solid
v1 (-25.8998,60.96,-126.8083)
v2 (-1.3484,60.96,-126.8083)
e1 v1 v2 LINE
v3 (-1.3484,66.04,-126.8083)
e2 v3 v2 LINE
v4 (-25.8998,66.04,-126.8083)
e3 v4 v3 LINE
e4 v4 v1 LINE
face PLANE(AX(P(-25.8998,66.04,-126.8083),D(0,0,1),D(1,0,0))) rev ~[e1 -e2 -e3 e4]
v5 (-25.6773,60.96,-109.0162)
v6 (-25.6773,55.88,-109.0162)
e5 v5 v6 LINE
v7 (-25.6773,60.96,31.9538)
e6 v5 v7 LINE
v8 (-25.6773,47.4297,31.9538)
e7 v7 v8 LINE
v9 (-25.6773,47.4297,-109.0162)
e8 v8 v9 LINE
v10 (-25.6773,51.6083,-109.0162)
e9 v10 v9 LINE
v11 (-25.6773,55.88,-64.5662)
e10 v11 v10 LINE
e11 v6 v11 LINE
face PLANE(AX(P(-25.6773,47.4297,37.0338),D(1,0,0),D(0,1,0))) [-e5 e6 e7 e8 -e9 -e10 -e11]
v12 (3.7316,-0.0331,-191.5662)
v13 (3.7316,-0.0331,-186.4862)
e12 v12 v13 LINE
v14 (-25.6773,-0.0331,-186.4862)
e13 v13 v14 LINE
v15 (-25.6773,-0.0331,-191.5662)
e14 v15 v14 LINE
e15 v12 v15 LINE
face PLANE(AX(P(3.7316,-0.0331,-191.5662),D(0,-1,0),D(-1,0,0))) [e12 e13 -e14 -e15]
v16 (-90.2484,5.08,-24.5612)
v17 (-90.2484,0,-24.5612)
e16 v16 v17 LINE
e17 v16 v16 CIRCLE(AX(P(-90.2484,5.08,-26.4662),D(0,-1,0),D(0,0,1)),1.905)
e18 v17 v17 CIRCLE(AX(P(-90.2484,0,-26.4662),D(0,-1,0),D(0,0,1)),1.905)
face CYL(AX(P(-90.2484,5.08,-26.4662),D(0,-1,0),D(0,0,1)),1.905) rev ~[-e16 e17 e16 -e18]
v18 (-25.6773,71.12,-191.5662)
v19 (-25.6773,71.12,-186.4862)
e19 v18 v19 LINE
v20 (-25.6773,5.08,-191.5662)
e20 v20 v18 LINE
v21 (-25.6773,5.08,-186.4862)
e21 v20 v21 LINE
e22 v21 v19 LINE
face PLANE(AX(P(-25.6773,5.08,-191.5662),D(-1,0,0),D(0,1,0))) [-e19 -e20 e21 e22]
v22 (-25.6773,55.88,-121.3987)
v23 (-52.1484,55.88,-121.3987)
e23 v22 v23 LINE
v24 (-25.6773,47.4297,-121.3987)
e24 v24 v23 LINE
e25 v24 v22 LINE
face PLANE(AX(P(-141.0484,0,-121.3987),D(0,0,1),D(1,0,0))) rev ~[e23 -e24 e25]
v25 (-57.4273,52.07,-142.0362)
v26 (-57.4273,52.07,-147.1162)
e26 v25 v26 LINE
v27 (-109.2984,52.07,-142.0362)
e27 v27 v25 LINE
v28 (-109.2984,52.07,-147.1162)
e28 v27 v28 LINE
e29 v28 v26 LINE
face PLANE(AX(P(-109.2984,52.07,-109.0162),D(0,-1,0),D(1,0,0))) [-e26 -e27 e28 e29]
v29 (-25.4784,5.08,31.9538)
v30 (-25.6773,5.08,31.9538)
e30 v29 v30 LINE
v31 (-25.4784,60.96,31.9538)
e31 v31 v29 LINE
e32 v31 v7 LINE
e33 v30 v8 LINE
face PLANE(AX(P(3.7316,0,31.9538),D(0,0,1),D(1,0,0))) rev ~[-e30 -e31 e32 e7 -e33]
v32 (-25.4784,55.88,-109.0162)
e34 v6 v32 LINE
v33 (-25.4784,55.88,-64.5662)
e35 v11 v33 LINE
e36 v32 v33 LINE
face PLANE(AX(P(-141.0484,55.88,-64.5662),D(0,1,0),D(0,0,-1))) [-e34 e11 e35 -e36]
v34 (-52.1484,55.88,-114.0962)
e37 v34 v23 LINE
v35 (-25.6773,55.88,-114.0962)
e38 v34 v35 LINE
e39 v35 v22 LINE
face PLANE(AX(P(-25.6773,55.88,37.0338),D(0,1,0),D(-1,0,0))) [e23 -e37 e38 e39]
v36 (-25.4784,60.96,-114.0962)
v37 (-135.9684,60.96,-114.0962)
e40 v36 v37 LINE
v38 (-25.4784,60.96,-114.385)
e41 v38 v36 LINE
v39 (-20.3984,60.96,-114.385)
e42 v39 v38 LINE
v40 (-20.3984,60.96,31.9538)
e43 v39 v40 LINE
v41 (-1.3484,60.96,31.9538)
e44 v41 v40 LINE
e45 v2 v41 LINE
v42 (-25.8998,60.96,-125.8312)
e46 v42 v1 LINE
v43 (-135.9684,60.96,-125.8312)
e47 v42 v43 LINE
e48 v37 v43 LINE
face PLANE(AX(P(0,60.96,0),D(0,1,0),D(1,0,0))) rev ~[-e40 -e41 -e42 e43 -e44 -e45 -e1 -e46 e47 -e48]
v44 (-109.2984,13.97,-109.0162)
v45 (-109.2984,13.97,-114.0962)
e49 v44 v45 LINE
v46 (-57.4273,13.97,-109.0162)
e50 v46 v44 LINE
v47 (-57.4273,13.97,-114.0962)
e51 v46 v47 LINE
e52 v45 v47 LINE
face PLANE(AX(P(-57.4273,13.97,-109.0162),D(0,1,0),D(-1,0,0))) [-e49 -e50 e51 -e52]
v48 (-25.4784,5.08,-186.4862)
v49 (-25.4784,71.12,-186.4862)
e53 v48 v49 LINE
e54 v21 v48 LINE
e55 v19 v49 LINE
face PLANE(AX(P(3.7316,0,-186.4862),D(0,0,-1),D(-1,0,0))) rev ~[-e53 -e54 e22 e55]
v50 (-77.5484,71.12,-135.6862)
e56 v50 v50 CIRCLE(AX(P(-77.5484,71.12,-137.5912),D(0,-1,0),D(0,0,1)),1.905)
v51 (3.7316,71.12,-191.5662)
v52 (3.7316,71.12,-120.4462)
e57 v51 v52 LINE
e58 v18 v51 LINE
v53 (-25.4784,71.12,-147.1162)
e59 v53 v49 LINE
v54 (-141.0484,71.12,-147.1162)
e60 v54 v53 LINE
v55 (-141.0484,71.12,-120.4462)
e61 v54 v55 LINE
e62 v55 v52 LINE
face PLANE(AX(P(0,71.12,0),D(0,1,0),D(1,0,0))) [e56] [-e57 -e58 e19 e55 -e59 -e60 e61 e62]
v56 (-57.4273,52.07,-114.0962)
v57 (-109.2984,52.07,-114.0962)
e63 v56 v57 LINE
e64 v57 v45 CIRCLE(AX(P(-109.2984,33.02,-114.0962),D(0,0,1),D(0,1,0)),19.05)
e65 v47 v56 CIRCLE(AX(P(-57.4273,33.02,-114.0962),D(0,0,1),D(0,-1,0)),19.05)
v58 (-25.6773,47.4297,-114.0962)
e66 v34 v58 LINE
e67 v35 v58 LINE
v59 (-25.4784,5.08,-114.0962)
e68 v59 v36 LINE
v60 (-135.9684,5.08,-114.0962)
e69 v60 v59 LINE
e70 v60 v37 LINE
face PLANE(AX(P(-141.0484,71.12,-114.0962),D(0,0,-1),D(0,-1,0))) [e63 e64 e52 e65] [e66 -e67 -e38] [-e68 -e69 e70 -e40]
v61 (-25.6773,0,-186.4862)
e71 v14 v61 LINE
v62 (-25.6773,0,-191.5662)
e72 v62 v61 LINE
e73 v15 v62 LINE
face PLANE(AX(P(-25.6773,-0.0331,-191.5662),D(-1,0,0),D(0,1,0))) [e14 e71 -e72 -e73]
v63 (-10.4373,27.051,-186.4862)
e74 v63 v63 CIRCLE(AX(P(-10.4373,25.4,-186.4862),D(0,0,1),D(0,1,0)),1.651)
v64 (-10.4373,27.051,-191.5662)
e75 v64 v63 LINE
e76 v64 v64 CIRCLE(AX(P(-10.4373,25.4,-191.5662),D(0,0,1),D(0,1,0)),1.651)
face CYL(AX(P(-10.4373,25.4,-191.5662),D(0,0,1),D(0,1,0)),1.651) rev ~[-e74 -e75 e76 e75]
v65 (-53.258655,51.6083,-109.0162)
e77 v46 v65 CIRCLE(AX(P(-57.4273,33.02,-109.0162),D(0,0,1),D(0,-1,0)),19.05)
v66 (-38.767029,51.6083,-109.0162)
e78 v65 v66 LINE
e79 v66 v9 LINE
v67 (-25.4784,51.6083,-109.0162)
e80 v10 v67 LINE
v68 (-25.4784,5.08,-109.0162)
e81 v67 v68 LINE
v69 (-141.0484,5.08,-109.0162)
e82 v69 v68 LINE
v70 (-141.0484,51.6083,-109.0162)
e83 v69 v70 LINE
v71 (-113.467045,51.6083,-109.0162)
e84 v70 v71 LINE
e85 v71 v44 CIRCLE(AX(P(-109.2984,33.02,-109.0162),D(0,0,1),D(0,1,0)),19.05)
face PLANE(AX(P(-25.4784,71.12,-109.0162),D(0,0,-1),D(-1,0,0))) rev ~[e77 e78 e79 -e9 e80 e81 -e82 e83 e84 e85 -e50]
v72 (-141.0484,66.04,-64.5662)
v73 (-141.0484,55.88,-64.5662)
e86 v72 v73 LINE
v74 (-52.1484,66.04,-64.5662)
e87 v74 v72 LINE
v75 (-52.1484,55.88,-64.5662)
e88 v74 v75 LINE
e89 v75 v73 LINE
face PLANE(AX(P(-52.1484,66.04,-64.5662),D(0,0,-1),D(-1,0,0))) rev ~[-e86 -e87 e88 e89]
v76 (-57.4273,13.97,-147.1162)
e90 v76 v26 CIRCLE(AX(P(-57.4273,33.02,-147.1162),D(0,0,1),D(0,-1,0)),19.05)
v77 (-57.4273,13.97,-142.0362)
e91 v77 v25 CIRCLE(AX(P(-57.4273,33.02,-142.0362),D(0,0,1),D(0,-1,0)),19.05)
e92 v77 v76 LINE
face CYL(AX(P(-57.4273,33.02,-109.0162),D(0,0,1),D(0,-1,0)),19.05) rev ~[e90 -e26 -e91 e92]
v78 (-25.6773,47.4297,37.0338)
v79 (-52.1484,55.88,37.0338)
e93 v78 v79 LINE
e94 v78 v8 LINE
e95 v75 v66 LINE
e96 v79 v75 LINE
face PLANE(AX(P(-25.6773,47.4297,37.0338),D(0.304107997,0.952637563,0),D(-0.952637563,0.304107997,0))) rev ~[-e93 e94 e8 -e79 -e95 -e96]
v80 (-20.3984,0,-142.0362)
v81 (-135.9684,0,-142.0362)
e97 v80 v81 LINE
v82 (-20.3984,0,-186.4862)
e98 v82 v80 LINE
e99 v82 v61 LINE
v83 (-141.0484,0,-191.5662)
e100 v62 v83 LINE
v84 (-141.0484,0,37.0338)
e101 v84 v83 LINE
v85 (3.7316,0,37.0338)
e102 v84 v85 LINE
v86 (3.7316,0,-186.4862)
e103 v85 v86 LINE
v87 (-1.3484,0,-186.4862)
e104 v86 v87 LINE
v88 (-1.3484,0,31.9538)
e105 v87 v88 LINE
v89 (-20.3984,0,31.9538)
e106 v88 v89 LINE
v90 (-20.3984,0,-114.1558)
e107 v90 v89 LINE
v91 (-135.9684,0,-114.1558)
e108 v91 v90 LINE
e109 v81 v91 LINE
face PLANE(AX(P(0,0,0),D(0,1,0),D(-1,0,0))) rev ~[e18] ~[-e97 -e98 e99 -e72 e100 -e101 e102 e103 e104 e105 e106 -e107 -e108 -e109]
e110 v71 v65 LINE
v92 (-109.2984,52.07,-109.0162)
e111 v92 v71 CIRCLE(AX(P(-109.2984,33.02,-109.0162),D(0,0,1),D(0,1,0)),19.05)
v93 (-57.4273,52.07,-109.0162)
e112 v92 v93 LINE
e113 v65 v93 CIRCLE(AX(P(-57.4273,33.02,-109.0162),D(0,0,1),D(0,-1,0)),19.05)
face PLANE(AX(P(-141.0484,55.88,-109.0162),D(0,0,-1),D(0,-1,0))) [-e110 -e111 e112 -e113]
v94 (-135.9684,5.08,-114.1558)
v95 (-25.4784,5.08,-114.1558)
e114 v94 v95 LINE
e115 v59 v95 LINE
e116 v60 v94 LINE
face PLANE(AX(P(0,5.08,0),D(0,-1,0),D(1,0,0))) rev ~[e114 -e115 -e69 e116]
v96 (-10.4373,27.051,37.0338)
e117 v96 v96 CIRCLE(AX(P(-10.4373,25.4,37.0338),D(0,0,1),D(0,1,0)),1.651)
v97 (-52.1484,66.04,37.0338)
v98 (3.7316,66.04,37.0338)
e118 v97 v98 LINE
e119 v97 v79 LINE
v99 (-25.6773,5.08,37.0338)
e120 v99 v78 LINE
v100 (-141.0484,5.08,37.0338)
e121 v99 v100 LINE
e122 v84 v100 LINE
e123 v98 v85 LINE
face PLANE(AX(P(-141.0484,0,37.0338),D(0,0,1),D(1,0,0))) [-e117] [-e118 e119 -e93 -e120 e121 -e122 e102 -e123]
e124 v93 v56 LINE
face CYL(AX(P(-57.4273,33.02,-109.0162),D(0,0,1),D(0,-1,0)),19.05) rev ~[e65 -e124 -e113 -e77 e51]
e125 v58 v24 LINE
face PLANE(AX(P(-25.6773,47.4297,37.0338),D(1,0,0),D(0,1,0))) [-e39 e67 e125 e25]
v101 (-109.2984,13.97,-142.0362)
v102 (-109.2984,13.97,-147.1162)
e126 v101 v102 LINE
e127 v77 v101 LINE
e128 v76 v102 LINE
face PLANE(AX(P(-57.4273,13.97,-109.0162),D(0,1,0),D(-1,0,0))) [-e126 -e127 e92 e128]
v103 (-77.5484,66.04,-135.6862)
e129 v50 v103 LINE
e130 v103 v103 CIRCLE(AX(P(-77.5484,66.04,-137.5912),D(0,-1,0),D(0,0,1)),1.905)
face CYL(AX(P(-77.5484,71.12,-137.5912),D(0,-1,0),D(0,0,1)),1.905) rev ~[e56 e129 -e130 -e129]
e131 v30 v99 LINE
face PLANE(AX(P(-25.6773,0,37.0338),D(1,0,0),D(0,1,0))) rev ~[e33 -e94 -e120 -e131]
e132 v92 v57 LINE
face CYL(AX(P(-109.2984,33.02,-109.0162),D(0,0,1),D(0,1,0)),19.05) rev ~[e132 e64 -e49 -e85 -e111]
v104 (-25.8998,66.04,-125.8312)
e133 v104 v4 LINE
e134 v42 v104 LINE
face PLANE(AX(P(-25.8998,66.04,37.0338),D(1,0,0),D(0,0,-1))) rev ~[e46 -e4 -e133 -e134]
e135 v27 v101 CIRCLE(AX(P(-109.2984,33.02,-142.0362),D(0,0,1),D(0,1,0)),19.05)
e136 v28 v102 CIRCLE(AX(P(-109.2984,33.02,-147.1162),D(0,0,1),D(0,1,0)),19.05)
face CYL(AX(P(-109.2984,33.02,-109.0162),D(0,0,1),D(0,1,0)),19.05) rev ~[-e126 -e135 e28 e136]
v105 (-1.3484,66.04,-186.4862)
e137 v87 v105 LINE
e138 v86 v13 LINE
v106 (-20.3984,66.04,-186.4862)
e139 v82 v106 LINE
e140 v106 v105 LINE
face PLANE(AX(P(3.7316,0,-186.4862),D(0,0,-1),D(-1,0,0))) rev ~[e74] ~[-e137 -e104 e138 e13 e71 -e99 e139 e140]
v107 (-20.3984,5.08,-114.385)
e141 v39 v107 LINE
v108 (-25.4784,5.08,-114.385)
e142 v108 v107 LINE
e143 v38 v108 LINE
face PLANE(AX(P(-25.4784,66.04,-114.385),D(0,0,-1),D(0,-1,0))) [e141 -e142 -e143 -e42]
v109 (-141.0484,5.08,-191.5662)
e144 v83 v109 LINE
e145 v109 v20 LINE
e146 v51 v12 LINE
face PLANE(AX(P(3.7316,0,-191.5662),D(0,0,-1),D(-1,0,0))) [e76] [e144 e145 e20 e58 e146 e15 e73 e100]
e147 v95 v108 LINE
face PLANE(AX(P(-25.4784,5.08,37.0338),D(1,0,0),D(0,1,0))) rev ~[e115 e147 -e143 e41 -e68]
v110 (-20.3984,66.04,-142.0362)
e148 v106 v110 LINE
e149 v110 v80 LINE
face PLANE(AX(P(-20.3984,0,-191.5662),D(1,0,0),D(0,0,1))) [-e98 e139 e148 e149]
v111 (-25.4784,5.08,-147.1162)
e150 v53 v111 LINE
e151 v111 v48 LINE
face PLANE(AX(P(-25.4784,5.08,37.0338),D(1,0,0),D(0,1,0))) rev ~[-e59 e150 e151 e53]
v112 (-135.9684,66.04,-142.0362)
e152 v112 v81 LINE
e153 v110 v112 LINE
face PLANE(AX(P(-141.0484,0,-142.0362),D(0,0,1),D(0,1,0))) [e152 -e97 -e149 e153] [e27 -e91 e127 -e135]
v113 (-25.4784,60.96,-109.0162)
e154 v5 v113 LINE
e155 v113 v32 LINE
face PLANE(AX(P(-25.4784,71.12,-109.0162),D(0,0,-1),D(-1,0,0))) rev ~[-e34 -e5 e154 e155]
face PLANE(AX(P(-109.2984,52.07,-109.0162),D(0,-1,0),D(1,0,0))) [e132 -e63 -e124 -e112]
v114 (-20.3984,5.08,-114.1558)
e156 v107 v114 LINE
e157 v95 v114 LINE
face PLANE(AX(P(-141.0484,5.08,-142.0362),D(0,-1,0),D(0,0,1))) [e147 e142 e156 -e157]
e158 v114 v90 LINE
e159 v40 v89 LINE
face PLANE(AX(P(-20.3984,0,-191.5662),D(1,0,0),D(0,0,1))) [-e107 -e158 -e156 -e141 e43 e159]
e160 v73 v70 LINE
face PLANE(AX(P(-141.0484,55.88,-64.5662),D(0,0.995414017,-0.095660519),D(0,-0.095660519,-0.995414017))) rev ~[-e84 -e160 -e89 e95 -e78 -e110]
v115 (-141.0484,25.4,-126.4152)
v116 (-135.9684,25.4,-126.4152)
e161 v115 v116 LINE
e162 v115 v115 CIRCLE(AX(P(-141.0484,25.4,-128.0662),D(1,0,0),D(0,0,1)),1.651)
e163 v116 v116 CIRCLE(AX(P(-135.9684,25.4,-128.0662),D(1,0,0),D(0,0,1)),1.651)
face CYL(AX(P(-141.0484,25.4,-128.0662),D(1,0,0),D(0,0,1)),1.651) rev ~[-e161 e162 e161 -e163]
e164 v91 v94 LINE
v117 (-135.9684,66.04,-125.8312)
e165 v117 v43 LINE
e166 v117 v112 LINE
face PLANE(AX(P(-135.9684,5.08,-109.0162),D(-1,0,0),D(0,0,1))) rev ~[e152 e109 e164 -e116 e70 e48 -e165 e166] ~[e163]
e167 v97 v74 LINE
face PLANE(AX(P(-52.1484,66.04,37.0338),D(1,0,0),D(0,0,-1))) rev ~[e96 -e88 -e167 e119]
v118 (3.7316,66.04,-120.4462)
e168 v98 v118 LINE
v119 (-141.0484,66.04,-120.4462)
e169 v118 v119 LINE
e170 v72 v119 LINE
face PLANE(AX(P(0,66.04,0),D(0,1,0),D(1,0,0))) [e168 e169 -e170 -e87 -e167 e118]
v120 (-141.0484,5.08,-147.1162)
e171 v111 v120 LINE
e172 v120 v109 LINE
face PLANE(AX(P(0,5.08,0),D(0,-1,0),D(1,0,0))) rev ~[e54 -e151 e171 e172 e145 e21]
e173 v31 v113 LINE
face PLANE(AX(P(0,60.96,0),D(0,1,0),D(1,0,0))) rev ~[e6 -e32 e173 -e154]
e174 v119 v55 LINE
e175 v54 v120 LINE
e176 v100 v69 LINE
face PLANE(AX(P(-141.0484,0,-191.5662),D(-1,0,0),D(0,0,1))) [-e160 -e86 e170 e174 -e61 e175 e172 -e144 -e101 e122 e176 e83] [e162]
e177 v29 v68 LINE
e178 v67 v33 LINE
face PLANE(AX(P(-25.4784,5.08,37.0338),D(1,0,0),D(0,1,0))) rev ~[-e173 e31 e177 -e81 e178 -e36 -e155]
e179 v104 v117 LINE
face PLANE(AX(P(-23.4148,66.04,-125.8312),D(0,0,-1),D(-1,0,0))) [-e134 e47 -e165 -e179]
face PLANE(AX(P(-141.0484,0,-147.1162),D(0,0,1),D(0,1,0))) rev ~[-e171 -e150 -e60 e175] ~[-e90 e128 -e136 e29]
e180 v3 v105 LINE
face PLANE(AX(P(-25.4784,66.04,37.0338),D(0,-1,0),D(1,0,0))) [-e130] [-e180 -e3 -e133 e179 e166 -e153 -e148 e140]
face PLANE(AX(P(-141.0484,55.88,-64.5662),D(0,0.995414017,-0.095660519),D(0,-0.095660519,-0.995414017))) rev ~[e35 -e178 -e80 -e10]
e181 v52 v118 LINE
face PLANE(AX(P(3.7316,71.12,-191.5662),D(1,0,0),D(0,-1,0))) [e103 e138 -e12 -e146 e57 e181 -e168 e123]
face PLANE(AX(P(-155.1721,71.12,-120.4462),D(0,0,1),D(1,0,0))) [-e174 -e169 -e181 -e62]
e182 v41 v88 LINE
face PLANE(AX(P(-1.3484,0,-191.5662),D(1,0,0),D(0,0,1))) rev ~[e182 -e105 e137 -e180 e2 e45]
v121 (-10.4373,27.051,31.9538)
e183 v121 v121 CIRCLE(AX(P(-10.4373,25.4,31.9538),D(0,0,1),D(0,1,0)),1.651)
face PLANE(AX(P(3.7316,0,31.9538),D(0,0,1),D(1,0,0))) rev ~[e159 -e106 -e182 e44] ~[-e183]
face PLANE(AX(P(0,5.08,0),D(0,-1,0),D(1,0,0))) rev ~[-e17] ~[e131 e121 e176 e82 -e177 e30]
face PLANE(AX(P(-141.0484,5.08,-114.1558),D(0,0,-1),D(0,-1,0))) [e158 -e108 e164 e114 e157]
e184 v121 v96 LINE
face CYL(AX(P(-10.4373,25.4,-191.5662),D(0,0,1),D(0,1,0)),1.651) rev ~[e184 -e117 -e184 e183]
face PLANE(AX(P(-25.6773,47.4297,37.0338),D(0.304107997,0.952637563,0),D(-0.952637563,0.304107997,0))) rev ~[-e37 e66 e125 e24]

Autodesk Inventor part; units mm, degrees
ref_plane "YZ Plane" through (0, 0, 0) normal (1, 0, 0) x (0, 1, 0)
ref_plane "XZ Plane" through (0, 0, 0) normal (0, 1, 0) x (-1, 0, 0)
ref_plane "XY Plane" through (0, 0, 0) normal (0, 0, 1) x (1, 0, 0)
sketch "Sketch51" plane through (0, 0, 0) normal (0, 1, 0) x (-1, 0, 0)
  line L0 (1.3484, 37.0338) -> (-3.7316, 37.0338)
  line L1 (-3.7316, 37.0338) -> (-3.7316, -191.5662)
  line L2 (-3.7316, -191.5662) -> (1.3484, -191.5662)
  line L3 (1.3484, -191.5662) -> (1.3484, 37.0338)
  point P0 (0, 0)
  dimension "d172" = 5.08
  dimension "d173" = 228.6
extrude "Extrusion37" add sketch "Sketch51" along normal blind 71.12
sketch "Sketch52" plane through (-1.3484, 0, 37.0338) normal (0, 0, 1) x (1, 0, 0)
  line L0 (5.08, 0) -> (5.08, 71.12) projected
  line L1 (5.08, 71.12) -> (-24.13, 71.12)
  line L2 (-24.13, 71.12) -> (-24.13, 66.04)
  line L3 (-24.13, 66.04) -> (5.08, 66.04)
  line L4 (5.08, 66.04) -> (5.08, 71.12)
  point P0 (1.3484, 0)
  dimension "d176" = 5.08
  dimension "d177" = 29.21
extrude "Extrusion38" add sketch "Sketch52" against normal blind 228.6
sketch "Sketch54" plane through (0, 0, 0) normal (0, -1, 0) x (1, 0, 0)
  line L0 (-20.3984, 37.0338) -> (-141.0484, 37.0338)
  line L1 (-141.0484, 37.0338) -> (-141.0484, -191.5662)
  line L2 (-141.0484, -191.5662) -> (-20.3984, -191.5662)
  line L3 (-20.3984, -191.5662) -> (-20.3984, 37.0338)
  line L4 (-25.4784, 37.0338) -> (-1.3484, 37.0338) projected
  line L5 (-1.3484, -191.5662) -> (-25.4784, -191.5662) projected
  line L6 (-1.3484, -191.5662) -> (-1.3484, 37.0338) projected
  point P0 (0, 0)
  dimension "d180" = 0
  dimension "d181" = 0
  dimension "d182" = 19.05
  dimension "d183" = 120.65
extrude "Extrusion39" add sketch "Sketch54" against normal blind 5.08 contours L3 L2 L1 L0
sketch "Sketch55" plane through (-1.3484, 0, 37.0338) normal (0, 0, 1) x (1, 0, 0)
  line L0 (-139.7, 5.08) -> (-19.05, 5.08) projected
  line L1 (-24.13, 66.04) -> (-24.13, 71.12) projected
  line L2 (-19.05, 5.08) -> (-24.13, 5.08)
  line L3 (-24.13, 5.08) -> (-24.13, 71.12)
  line L4 (-24.13, 71.12) -> (-19.05, 71.12)
  line L5 (-19.05, 71.12) -> (-19.05, 5.08)
  point P0 (1.3484, 0)
extrude "Extrusion40" add sketch "Sketch55" against normal blind 228.6
sketch "Sketch56" plane through (3.7316, 0, 37.0338) normal (0, 0, 1) x (1, 0, 0)
  line L0 (-29.4089, 71.12) -> (0, 71.12)
  line L1 (0, 71.12) -> (0, 0)
  line L2 (0, 0) -> (-29.4089, 0)
  line L3 (-29.4089, 0) -> (-29.4089, 71.12)
  line L4 (0, 71.12) -> (-29.21, 71.12) projected
  point P0 (-3.7316, 0)
  dimension "d275" = 0
extrude "Extrusion41" add sketch "Sketch56" against normal blind 5.08
sketch "Sketch57" plane through (3.7316, 0, -191.5662) normal (0, 0, -1) x (-1, 0, 0)
  line L0 (29.4089, 5.08) -> (29.4089, 71.12) projected
  line L1 (29.4089, 71.12) -> (0, 71.12)
  line L2 (0, 71.12) -> (0, -0.0331)
  line L3 (0, -0.0331) -> (29.4089, -0.0331)
  line L4 (29.4089, -0.0331) -> (29.4089, 71.12)
  point P0 (3.7316, 0)
extrude "Extrusion42" add sketch "Sketch57" against normal blind 5.08
sketch "Sketch58" plane through (0, 71.12, 0) normal (0, 1, 0) x (1, 0, 0)
  line L0 (-25.4784, -31.9538) -> (-25.4784, 186.4862) projected
  line L1 (-141.0484, 191.5662) -> (-141.0484, -37.0338) projected
  line L2 (-25.4784, 109.0162) -> (-141.0484, 109.0162)
  line L3 (-141.0484, 109.0162) -> (-141.0484, 147.1162)
  line L4 (-141.0484, 147.1162) -> (-25.4784, 147.1162)
  line L5 (-25.4784, 147.1162) -> (-25.4784, 109.0162)
  line L6 (-25.6773, 191.5662) -> (-141.0484, 191.5662) projected
  point P0 (0, 0)
  dimension "d192" = 38.1
  dimension "d193" = 44.45
extrude "Extrusion43" add sketch "Sketch58" against normal blind 5.08
sketch "Sketch59" plane through (-141.0484, 71.12, -147.1162) normal (-1, 0, 0) x (0, 0, 1)
  line L0 (0, 0) -> (0, -5.08) projected
  line L1 (184.15, -71.12) -> (-44.45, -71.12) projected
  line L2 (0, 0) -> (5.08, 0)
  line L3 (5.08, 0) -> (5.08, -71.12)
  line L4 (5.08, -71.12) -> (0, -71.12)
  line L5 (0, -71.12) -> (0, 0)
  line L6 (38.1, 0) -> (38.1, -5.08) projected
  line L7 (38.1, 0) -> (33.02, 0)
  line L8 (33.02, 0) -> (33.02, -71.12)
  line L9 (33.02, -71.12) -> (38.1, -71.12)
  line L10 (38.1, -71.12) -> (38.1, 0)
  point P0 (147.1162, -71.12)
  dimension "d196" = 5.08
  dimension "d197" = 5.08
extrude "Extrusion44" add sketch "Sketch59" against normal blind 120.65
sketch "Sketch60" plane through (-141.0484, 0, -191.5662) normal (-1, 0, 0) x (0, 0, 1)
  line L0 (49.53, 5.08) -> (77.47, 5.08) projected
  line L1 (5.08, 0) -> (223.52, 0) projected
  line L2 (49.53, 5.08) -> (77.4104, 5.08)
  line L3 (77.4104, 5.08) -> (77.4104, 0)
  line L4 (77.4104, 0) -> (49.53, 0)
  line L5 (49.53, 0) -> (49.53, 5.08)
  point P0 (191.5662, 0)
extrude "Extrusion45" cut sketch "Sketch60" against normal blind 120.65
sketch "Sketch61" plane through (-25.4784, 66.04, -142.0362) normal (-1, 0, 0) x (0, 0, 1)
  line L0 (0, -66.04) -> (0, 0) projected
  line L1 (27.94, 0) -> (27.94, -60.96) projected
  line L2 (27.94, 0) -> (0, 0) projected
  line L3 (-44.45, -66.04) -> (173.99, -66.04) projected
  line L4 (0, 0) -> (27.6512, 0)
  line L5 (27.6512, 0) -> (27.6512, -66.04)
  line L6 (27.6512, -66.04) -> (0, -66.04)
  line L7 (0, -66.04) -> (0, 0)
  point P0 (142.0362, -66.04)
extrude "Extrusion46" cut sketch "Sketch61" against normal blind 5.08
sketch "Sketch62" plane through (-141.0484, 5.08, -109.0162) normal (-1, 0, 0) x (0, 0, 1)
  line L0 (-33.02, -5.08) -> (-82.55, -5.08) projected
  line L1 (-38.1, 66.04) -> (-38.1, 0) projected
  line L2 (0, 66.04) -> (0, 0) projected
  line L3 (-5.1396, 0) -> (-5.1396, -5.08) projected
  line L4 (146.05, -5.08) -> (-5.1396, -5.08) projected
  line L5 (146.05, -5.08) -> (146.05, 0) projected
  line L6 (0, 0) -> (146.05, 0) projected
  line L7 (0, 66.04) -> (0, 0) projected
  line L8 (0, 66.04) -> (-38.1, 66.04) projected
  line L9 (-38.1, 66.04) -> (-38.1, 0) projected
  line L10 (-82.55, 0) -> (-38.1, 0) projected
  line L11 (-82.55, -5.08) -> (-82.55, 0) projected
  line L12 (-33.02, -5.08) -> (-82.55, -5.08) projected
  line L13 (-33.02, -5.08) -> (-33.02, 60.96) projected
  line L14 (-5.08, 60.96) -> (-33.02, 60.96) projected
  line L15 (-5.08, 60.96) -> (-5.08, 0) projected
  line L16 (0, 66.04) -> (-34.1859, 66.04)
  line L17 (-34.1859, 66.04) -> (-34.1859, -5.08)
  line L18 (-34.1859, -5.08) -> (0, -5.08)
  line L19 (0, -5.08) -> (0, 66.04)
  line L20 (-5.1396, 0) -> (-5.08, 0) projected
  point P0 (109.0162, -5.08)
extrude "Extrusion47" add sketch "Sketch62" against normal blind 5.08 contours L0 L17 L8 L2 L19 L4 L3 L20 L15 L14 L13 | L13 L14 L15 L20 L3 L18
sketch "Sketch63" plane through (3.7316, 0, -191.5662) normal (0, 0, -1) x (-1, 0, 0)
  line L0 (144.78, 0) -> (29.4089, 0) projected
  line L1 (29.4089, 5.08) -> (29.4089, 71.12) projected
  point P0 (3.7316, 0)
  point P1 (14.1689, 25.4)
  point P2 (0, 0)
  dimension "d206" = 25.4
  dimension "d207" = 15.24
hole "Hole8" at (-10.4373, 25.4, -191.5662) direction (0, 0, 1) diameter 3.302 end through all
sketch "Sketch64" plane through (-141.0484, 0, -191.5662) normal (-1, 0, 0) x (0, 0, 1)
  line L0 (228.6, 0) -> (0, 0) projected
  line L1 (44.45, 71.12) -> (44.45, 5.08) projected
  point P0 (191.5662, 0)
  point P1 (63.5, 25.4)
  dimension "d215" = 25.4
  dimension "d216" = 19.05
hole "Hole9" at (-141.0484, 25.4, -128.0662) direction (1, 0, 0) diameter 3.302 depth 25.4 tip angle 118.188
sketch "Sketch66" plane through (0, 71.12, 0) normal (0, 1, 0) x (1, 0, 0)
  line L0 (-141.0484, 109.0162) -> (-141.0484, 147.1162) projected
  line L1 (-25.4784, 109.0162) -> (-141.0484, 109.0162) projected
  line L2 (-141.0484, 147.1162) -> (-25.4784, 147.1162) projected
  point P0 (0, 0)
  point P1 (-77.5484, 137.5912)
  dimension "d227" = 9.525
hole "Hole10" at (-77.5484, 71.12, -137.5912) direction (0, -1, 0) diameter 3.81 depth 25.4 tip angle 118.188
sketch "Sketch69" plane through (-141.0484, 71.12, -109.0162) normal (0, 0, 1) x (1, 0, 0)
  line L0 (31.75, -38.1) -> (83.6211, -38.1) construction
  line L1 (31.75, -19.05) -> (83.6211, -19.05)
  line L2 (83.6211, -57.15) -> (31.75, -57.15)
  arc A0 (31.75, -19.05) -> (31.75, -57.15) centre (31.75, -38.1) ccw
  arc A1 (83.6211, -57.15) -> (83.6211, -19.05) centre (83.6211, -38.1) ccw
  line L3 (0, 0) -> (0, -66.04) projected
  line L4 (115.3711, -66.04) -> (115.3711, 0) projected
  line L5 (115.57, 0) -> (0, 0) projected
  point P0 (141.0484, -71.12)
  point P1 (57.6856, -38.1)
  dimension "d252" = 31.75
  dimension "d253" = 31.75
  dimension "d254" = 38.1
  dimension "d255" = 19.05
extrude "Extrusion49" cut sketch "Sketch69" against normal blind 230.1875
sketch "Sketch70" plane through (0, 71.12, 0) normal (0, 1, 0) x (1, 0, 0)
  line L0 (-20.3984, -31.9538) -> (-20.3984, 114.385) projected
  line L1 (-25.4784, -31.9538) -> (-25.4784, 109.0162) projected
  line L2 (-25.4784, 109.0162) -> (-141.0484, 109.0162) projected
  line L3 (-141.0484, 191.5662) -> (-141.0484, -37.0338) projected
  line L4 (-141.0484, -37.0338) -> (-25.6773, -37.0338) projected
  line L5 (-141.0484, 109.0162) -> (-141.0484, 147.1162) projected
  line L6 (-141.0484, 109.0162) -> (-25.6773, 109.0162)
  line L7 (-25.6773, 109.0162) -> (-25.6773, -37.0338)
  line L8 (-25.6773, -37.0338) -> (-141.0484, -37.0338)
  line L9 (-141.0484, -37.0338) -> (-141.0484, 109.0162)
  point P0 (0, 0)
extrude "Extrusion50" add sketch "Sketch70" against normal blind 15.24
sketch "Sketch71" plane through (0, 71.12, 0) normal (0, 1, 0) x (1, 0, 0)
  line L0 (-25.6773, -37.0338) -> (3.7316, -37.0338) projected
  line L1 (3.7316, -37.0338) -> (-155.1721, -37.0338)
  line L2 (-155.1721, -37.0338) -> (-155.1721, 120.4462)
  line L3 (-155.1721, 120.4462) -> (3.7316, 120.4462)
  line L4 (3.7316, 120.4462) -> (3.7316, -37.0338)
  point P0 (0, 0)
  dimension "d260" = 157.48
extrude "Extrusion51" cut sketch "Sketch71" against normal blind 5.08
sketch "Sketch72" plane through (0, 66.04, 0) normal (0, 1, 0) x (1, 0, 0)
  line L0 (3.7316, -37.0338) -> (3.7316, -31.9538) projected
  line L1 (3.7316, -37.0338) -> (-25.8998, -37.0338)
  line L2 (-25.8998, -37.0338) -> (-25.8998, 126.8083)
  line L3 (-25.8998, 126.8083) -> (3.7316, 126.8083)
  line L4 (3.7316, 126.8083) -> (3.7316, -37.0338)
  point P0 (0, 0)
extrude "Extrusion52" add sketch "Sketch72" against normal blind 5.08
sketch "Sketch73" plane through (0, 66.04, 0) normal (0, 1, 0) x (1, 0, 0)
  line L0 (-137.7579, 102.3229) -> (-23.4148, 102.3229)
  line L1 (-23.4148, 102.3229) -> (-23.4148, 125.8312)
  line L2 (-23.4148, 125.8312) -> (-137.7579, 125.8312)
  line L3 (-137.7579, 125.8312) -> (-137.7579, 102.3229)
  point P0 (0, 0)
extrude "Extrusion53" add sketch "Sketch73" against normal blind 5.08
sketch "Sketch74" plane through (0, 66.04, 0) normal (0, 1, 0) x (1, 0, 0)
  line L0 (-141.0484, -37.0338) -> (-141.0484, 120.4462) projected
  line L1 (-141.0484, -37.0338) -> (-52.1484, -37.0338)
  line L2 (-52.1484, -37.0338) -> (-52.1484, 64.5662)
  line L3 (-52.1484, 64.5662) -> (-141.0484, 64.5662)
  line L4 (-141.0484, 64.5662) -> (-141.0484, -37.0338)
  point P0 (0, 0)
  dimension "d267" = 88.9
  dimension "d268" = 101.6
extrude "Extrusion54" cut sketch "Sketch74" against normal blind 37.7825
sketch "Sketch76" plane through (-141.0484, 0, -191.5662) normal (-1, 0, 0) x (0, 0, 1)
  line L0 (82.55, 55.88) -> (82.55, 5.08) projected
  line L1 (127, 55.88) -> (82.55, 55.88) projected
  line L2 (82.55, 55.88) -> (127, 55.88)
  line L3 (127, 55.88) -> (82.55, 51.6083)
  line L4 (82.55, 51.6083) -> (82.55, 55.88)
  point P0 (191.5662, 0)
extrude "Extrusion55" add sketch "Sketch76" against normal blind 116.205
sketch "Sketch77" plane through (-141.0484, 0, 37.0338) normal (0, 0, 1) x (1, 0, 0)
  line L0 (115.3711, 55.88) -> (88.9, 55.88) projected
  line L1 (115.3711, 5.08) -> (115.3711, 55.88) projected
  line L2 (88.9, 55.88) -> (0, 55.88) projected
  line L3 (88.9, 55.88) -> (115.3711, 55.88)
  line L4 (115.3711, 47.4297) -> (88.9, 55.88)
  point P0 (141.0484, 0)
extrude "Extrusion56" add sketch "Sketch77" against normal blind 158.4325
sketch "Sketch78" plane through (0, 5.08, 0) normal (0, 1, 0) x (1, 0, 0)
  line L0 (-141.0484, -37.0338) -> (-25.6773, -37.0338) projected
  line L1 (-141.0484, 109.0162) -> (-141.0484, -37.0338) projected
  point P0 (0, 0)
  point P1 (-90.2484, 26.4662)
  dimension "d276" = 63.5
  dimension "d277" = 50.8
hole "Hole12" at (-90.2484, 5.08, -26.4662) direction (0, -1, 0) diameter 3.81 depth 25.4 tip angle 118.188
equation "\"d172\" = WallWidth"
equation "\"d173\" = PartLength"
equation "\"d174\" = CPDeckHeight"
equation "\"d176\" = WallWidth"
equation "\"d177\" = 2 * WallWidth + ControlPlateShelfLength"
equation "\"d178\" = PartLength"
equation "\"d182\" = ControlPlateShelfLength"
equation "\"d183\" = CPDWidthHole"
equation "\"d184\" = WallWidth"
equation "\"d186\" = PartLength"
equation "\"d188\" = WallWidth"
equation "\"d190\" = WallWidth"
equation "\"d194\" = WallWidth"
equation "\"d196\" = WallWidth"
equation "\"d197\" = WallWidth"
equation "\"d202\" = WallWidth"
equation "\"d204\" = WallWidth"
equation "\"d261\" = WallWidth"
equation "\"d263\" = WallWidth"
equation "\"d265\" = WallWidth"
equation "\"DSLength\" = 1371.6"
equation "\"DSWidth\" = 304.8"
equation "\"DCDeckHeight\" = 76.2"
equation "\"WallWidth\" = 5.08"
equation "\"EdgeAngle\" = 10deg"
equation "\"LengthCuts\" = 152.4"
equation "\"WidthCuts\" = 50.8"
equation "\"PartLength\" = 228.6"
equation "\"PartWidth\" = 152.4"
equation "\"BoltHoldDiam\" = 6.35"
equation "\"ControlPlateLength\" = 228.6"
equation "\"ControlPlateWidth\" = 228.6"
equation "\"ControlPlateShelfLength\" = 19.05"
equation "\"ControlHoleLength\" = 190.5"
equation "\"ControlHoleWidth\" = 190.5"
equation "\"ControlHoleFromSide\" = 63.5"
equation "\"ControlHoleBoltHoleMid\" = 9.525"
equation "\"CPDeckHeight\" = 71.12"
equation "\"CPFromSide\" = 63.5"
equation "\"CPFromBack\" = 63.5"
equation "\"DU1CHWidth\" = 69.85"
equation "\"DU1CHLength\" = 146.05"
equation "\"ControlPlateScrewLength\" = 76.2"
equation "\"DSBackHeight\" = 127"
equation "\"BackShelf\" = 25.4"
equation "\"MainAngle\" = 168.22deg"
equation "\"CPDWidthHole\" = 120.65"
equation "\"CPDLengthHole\" = 146.05"
equation "\"DownBackHeight\" = 130.7084"
properties part number "CPLRightThree"
